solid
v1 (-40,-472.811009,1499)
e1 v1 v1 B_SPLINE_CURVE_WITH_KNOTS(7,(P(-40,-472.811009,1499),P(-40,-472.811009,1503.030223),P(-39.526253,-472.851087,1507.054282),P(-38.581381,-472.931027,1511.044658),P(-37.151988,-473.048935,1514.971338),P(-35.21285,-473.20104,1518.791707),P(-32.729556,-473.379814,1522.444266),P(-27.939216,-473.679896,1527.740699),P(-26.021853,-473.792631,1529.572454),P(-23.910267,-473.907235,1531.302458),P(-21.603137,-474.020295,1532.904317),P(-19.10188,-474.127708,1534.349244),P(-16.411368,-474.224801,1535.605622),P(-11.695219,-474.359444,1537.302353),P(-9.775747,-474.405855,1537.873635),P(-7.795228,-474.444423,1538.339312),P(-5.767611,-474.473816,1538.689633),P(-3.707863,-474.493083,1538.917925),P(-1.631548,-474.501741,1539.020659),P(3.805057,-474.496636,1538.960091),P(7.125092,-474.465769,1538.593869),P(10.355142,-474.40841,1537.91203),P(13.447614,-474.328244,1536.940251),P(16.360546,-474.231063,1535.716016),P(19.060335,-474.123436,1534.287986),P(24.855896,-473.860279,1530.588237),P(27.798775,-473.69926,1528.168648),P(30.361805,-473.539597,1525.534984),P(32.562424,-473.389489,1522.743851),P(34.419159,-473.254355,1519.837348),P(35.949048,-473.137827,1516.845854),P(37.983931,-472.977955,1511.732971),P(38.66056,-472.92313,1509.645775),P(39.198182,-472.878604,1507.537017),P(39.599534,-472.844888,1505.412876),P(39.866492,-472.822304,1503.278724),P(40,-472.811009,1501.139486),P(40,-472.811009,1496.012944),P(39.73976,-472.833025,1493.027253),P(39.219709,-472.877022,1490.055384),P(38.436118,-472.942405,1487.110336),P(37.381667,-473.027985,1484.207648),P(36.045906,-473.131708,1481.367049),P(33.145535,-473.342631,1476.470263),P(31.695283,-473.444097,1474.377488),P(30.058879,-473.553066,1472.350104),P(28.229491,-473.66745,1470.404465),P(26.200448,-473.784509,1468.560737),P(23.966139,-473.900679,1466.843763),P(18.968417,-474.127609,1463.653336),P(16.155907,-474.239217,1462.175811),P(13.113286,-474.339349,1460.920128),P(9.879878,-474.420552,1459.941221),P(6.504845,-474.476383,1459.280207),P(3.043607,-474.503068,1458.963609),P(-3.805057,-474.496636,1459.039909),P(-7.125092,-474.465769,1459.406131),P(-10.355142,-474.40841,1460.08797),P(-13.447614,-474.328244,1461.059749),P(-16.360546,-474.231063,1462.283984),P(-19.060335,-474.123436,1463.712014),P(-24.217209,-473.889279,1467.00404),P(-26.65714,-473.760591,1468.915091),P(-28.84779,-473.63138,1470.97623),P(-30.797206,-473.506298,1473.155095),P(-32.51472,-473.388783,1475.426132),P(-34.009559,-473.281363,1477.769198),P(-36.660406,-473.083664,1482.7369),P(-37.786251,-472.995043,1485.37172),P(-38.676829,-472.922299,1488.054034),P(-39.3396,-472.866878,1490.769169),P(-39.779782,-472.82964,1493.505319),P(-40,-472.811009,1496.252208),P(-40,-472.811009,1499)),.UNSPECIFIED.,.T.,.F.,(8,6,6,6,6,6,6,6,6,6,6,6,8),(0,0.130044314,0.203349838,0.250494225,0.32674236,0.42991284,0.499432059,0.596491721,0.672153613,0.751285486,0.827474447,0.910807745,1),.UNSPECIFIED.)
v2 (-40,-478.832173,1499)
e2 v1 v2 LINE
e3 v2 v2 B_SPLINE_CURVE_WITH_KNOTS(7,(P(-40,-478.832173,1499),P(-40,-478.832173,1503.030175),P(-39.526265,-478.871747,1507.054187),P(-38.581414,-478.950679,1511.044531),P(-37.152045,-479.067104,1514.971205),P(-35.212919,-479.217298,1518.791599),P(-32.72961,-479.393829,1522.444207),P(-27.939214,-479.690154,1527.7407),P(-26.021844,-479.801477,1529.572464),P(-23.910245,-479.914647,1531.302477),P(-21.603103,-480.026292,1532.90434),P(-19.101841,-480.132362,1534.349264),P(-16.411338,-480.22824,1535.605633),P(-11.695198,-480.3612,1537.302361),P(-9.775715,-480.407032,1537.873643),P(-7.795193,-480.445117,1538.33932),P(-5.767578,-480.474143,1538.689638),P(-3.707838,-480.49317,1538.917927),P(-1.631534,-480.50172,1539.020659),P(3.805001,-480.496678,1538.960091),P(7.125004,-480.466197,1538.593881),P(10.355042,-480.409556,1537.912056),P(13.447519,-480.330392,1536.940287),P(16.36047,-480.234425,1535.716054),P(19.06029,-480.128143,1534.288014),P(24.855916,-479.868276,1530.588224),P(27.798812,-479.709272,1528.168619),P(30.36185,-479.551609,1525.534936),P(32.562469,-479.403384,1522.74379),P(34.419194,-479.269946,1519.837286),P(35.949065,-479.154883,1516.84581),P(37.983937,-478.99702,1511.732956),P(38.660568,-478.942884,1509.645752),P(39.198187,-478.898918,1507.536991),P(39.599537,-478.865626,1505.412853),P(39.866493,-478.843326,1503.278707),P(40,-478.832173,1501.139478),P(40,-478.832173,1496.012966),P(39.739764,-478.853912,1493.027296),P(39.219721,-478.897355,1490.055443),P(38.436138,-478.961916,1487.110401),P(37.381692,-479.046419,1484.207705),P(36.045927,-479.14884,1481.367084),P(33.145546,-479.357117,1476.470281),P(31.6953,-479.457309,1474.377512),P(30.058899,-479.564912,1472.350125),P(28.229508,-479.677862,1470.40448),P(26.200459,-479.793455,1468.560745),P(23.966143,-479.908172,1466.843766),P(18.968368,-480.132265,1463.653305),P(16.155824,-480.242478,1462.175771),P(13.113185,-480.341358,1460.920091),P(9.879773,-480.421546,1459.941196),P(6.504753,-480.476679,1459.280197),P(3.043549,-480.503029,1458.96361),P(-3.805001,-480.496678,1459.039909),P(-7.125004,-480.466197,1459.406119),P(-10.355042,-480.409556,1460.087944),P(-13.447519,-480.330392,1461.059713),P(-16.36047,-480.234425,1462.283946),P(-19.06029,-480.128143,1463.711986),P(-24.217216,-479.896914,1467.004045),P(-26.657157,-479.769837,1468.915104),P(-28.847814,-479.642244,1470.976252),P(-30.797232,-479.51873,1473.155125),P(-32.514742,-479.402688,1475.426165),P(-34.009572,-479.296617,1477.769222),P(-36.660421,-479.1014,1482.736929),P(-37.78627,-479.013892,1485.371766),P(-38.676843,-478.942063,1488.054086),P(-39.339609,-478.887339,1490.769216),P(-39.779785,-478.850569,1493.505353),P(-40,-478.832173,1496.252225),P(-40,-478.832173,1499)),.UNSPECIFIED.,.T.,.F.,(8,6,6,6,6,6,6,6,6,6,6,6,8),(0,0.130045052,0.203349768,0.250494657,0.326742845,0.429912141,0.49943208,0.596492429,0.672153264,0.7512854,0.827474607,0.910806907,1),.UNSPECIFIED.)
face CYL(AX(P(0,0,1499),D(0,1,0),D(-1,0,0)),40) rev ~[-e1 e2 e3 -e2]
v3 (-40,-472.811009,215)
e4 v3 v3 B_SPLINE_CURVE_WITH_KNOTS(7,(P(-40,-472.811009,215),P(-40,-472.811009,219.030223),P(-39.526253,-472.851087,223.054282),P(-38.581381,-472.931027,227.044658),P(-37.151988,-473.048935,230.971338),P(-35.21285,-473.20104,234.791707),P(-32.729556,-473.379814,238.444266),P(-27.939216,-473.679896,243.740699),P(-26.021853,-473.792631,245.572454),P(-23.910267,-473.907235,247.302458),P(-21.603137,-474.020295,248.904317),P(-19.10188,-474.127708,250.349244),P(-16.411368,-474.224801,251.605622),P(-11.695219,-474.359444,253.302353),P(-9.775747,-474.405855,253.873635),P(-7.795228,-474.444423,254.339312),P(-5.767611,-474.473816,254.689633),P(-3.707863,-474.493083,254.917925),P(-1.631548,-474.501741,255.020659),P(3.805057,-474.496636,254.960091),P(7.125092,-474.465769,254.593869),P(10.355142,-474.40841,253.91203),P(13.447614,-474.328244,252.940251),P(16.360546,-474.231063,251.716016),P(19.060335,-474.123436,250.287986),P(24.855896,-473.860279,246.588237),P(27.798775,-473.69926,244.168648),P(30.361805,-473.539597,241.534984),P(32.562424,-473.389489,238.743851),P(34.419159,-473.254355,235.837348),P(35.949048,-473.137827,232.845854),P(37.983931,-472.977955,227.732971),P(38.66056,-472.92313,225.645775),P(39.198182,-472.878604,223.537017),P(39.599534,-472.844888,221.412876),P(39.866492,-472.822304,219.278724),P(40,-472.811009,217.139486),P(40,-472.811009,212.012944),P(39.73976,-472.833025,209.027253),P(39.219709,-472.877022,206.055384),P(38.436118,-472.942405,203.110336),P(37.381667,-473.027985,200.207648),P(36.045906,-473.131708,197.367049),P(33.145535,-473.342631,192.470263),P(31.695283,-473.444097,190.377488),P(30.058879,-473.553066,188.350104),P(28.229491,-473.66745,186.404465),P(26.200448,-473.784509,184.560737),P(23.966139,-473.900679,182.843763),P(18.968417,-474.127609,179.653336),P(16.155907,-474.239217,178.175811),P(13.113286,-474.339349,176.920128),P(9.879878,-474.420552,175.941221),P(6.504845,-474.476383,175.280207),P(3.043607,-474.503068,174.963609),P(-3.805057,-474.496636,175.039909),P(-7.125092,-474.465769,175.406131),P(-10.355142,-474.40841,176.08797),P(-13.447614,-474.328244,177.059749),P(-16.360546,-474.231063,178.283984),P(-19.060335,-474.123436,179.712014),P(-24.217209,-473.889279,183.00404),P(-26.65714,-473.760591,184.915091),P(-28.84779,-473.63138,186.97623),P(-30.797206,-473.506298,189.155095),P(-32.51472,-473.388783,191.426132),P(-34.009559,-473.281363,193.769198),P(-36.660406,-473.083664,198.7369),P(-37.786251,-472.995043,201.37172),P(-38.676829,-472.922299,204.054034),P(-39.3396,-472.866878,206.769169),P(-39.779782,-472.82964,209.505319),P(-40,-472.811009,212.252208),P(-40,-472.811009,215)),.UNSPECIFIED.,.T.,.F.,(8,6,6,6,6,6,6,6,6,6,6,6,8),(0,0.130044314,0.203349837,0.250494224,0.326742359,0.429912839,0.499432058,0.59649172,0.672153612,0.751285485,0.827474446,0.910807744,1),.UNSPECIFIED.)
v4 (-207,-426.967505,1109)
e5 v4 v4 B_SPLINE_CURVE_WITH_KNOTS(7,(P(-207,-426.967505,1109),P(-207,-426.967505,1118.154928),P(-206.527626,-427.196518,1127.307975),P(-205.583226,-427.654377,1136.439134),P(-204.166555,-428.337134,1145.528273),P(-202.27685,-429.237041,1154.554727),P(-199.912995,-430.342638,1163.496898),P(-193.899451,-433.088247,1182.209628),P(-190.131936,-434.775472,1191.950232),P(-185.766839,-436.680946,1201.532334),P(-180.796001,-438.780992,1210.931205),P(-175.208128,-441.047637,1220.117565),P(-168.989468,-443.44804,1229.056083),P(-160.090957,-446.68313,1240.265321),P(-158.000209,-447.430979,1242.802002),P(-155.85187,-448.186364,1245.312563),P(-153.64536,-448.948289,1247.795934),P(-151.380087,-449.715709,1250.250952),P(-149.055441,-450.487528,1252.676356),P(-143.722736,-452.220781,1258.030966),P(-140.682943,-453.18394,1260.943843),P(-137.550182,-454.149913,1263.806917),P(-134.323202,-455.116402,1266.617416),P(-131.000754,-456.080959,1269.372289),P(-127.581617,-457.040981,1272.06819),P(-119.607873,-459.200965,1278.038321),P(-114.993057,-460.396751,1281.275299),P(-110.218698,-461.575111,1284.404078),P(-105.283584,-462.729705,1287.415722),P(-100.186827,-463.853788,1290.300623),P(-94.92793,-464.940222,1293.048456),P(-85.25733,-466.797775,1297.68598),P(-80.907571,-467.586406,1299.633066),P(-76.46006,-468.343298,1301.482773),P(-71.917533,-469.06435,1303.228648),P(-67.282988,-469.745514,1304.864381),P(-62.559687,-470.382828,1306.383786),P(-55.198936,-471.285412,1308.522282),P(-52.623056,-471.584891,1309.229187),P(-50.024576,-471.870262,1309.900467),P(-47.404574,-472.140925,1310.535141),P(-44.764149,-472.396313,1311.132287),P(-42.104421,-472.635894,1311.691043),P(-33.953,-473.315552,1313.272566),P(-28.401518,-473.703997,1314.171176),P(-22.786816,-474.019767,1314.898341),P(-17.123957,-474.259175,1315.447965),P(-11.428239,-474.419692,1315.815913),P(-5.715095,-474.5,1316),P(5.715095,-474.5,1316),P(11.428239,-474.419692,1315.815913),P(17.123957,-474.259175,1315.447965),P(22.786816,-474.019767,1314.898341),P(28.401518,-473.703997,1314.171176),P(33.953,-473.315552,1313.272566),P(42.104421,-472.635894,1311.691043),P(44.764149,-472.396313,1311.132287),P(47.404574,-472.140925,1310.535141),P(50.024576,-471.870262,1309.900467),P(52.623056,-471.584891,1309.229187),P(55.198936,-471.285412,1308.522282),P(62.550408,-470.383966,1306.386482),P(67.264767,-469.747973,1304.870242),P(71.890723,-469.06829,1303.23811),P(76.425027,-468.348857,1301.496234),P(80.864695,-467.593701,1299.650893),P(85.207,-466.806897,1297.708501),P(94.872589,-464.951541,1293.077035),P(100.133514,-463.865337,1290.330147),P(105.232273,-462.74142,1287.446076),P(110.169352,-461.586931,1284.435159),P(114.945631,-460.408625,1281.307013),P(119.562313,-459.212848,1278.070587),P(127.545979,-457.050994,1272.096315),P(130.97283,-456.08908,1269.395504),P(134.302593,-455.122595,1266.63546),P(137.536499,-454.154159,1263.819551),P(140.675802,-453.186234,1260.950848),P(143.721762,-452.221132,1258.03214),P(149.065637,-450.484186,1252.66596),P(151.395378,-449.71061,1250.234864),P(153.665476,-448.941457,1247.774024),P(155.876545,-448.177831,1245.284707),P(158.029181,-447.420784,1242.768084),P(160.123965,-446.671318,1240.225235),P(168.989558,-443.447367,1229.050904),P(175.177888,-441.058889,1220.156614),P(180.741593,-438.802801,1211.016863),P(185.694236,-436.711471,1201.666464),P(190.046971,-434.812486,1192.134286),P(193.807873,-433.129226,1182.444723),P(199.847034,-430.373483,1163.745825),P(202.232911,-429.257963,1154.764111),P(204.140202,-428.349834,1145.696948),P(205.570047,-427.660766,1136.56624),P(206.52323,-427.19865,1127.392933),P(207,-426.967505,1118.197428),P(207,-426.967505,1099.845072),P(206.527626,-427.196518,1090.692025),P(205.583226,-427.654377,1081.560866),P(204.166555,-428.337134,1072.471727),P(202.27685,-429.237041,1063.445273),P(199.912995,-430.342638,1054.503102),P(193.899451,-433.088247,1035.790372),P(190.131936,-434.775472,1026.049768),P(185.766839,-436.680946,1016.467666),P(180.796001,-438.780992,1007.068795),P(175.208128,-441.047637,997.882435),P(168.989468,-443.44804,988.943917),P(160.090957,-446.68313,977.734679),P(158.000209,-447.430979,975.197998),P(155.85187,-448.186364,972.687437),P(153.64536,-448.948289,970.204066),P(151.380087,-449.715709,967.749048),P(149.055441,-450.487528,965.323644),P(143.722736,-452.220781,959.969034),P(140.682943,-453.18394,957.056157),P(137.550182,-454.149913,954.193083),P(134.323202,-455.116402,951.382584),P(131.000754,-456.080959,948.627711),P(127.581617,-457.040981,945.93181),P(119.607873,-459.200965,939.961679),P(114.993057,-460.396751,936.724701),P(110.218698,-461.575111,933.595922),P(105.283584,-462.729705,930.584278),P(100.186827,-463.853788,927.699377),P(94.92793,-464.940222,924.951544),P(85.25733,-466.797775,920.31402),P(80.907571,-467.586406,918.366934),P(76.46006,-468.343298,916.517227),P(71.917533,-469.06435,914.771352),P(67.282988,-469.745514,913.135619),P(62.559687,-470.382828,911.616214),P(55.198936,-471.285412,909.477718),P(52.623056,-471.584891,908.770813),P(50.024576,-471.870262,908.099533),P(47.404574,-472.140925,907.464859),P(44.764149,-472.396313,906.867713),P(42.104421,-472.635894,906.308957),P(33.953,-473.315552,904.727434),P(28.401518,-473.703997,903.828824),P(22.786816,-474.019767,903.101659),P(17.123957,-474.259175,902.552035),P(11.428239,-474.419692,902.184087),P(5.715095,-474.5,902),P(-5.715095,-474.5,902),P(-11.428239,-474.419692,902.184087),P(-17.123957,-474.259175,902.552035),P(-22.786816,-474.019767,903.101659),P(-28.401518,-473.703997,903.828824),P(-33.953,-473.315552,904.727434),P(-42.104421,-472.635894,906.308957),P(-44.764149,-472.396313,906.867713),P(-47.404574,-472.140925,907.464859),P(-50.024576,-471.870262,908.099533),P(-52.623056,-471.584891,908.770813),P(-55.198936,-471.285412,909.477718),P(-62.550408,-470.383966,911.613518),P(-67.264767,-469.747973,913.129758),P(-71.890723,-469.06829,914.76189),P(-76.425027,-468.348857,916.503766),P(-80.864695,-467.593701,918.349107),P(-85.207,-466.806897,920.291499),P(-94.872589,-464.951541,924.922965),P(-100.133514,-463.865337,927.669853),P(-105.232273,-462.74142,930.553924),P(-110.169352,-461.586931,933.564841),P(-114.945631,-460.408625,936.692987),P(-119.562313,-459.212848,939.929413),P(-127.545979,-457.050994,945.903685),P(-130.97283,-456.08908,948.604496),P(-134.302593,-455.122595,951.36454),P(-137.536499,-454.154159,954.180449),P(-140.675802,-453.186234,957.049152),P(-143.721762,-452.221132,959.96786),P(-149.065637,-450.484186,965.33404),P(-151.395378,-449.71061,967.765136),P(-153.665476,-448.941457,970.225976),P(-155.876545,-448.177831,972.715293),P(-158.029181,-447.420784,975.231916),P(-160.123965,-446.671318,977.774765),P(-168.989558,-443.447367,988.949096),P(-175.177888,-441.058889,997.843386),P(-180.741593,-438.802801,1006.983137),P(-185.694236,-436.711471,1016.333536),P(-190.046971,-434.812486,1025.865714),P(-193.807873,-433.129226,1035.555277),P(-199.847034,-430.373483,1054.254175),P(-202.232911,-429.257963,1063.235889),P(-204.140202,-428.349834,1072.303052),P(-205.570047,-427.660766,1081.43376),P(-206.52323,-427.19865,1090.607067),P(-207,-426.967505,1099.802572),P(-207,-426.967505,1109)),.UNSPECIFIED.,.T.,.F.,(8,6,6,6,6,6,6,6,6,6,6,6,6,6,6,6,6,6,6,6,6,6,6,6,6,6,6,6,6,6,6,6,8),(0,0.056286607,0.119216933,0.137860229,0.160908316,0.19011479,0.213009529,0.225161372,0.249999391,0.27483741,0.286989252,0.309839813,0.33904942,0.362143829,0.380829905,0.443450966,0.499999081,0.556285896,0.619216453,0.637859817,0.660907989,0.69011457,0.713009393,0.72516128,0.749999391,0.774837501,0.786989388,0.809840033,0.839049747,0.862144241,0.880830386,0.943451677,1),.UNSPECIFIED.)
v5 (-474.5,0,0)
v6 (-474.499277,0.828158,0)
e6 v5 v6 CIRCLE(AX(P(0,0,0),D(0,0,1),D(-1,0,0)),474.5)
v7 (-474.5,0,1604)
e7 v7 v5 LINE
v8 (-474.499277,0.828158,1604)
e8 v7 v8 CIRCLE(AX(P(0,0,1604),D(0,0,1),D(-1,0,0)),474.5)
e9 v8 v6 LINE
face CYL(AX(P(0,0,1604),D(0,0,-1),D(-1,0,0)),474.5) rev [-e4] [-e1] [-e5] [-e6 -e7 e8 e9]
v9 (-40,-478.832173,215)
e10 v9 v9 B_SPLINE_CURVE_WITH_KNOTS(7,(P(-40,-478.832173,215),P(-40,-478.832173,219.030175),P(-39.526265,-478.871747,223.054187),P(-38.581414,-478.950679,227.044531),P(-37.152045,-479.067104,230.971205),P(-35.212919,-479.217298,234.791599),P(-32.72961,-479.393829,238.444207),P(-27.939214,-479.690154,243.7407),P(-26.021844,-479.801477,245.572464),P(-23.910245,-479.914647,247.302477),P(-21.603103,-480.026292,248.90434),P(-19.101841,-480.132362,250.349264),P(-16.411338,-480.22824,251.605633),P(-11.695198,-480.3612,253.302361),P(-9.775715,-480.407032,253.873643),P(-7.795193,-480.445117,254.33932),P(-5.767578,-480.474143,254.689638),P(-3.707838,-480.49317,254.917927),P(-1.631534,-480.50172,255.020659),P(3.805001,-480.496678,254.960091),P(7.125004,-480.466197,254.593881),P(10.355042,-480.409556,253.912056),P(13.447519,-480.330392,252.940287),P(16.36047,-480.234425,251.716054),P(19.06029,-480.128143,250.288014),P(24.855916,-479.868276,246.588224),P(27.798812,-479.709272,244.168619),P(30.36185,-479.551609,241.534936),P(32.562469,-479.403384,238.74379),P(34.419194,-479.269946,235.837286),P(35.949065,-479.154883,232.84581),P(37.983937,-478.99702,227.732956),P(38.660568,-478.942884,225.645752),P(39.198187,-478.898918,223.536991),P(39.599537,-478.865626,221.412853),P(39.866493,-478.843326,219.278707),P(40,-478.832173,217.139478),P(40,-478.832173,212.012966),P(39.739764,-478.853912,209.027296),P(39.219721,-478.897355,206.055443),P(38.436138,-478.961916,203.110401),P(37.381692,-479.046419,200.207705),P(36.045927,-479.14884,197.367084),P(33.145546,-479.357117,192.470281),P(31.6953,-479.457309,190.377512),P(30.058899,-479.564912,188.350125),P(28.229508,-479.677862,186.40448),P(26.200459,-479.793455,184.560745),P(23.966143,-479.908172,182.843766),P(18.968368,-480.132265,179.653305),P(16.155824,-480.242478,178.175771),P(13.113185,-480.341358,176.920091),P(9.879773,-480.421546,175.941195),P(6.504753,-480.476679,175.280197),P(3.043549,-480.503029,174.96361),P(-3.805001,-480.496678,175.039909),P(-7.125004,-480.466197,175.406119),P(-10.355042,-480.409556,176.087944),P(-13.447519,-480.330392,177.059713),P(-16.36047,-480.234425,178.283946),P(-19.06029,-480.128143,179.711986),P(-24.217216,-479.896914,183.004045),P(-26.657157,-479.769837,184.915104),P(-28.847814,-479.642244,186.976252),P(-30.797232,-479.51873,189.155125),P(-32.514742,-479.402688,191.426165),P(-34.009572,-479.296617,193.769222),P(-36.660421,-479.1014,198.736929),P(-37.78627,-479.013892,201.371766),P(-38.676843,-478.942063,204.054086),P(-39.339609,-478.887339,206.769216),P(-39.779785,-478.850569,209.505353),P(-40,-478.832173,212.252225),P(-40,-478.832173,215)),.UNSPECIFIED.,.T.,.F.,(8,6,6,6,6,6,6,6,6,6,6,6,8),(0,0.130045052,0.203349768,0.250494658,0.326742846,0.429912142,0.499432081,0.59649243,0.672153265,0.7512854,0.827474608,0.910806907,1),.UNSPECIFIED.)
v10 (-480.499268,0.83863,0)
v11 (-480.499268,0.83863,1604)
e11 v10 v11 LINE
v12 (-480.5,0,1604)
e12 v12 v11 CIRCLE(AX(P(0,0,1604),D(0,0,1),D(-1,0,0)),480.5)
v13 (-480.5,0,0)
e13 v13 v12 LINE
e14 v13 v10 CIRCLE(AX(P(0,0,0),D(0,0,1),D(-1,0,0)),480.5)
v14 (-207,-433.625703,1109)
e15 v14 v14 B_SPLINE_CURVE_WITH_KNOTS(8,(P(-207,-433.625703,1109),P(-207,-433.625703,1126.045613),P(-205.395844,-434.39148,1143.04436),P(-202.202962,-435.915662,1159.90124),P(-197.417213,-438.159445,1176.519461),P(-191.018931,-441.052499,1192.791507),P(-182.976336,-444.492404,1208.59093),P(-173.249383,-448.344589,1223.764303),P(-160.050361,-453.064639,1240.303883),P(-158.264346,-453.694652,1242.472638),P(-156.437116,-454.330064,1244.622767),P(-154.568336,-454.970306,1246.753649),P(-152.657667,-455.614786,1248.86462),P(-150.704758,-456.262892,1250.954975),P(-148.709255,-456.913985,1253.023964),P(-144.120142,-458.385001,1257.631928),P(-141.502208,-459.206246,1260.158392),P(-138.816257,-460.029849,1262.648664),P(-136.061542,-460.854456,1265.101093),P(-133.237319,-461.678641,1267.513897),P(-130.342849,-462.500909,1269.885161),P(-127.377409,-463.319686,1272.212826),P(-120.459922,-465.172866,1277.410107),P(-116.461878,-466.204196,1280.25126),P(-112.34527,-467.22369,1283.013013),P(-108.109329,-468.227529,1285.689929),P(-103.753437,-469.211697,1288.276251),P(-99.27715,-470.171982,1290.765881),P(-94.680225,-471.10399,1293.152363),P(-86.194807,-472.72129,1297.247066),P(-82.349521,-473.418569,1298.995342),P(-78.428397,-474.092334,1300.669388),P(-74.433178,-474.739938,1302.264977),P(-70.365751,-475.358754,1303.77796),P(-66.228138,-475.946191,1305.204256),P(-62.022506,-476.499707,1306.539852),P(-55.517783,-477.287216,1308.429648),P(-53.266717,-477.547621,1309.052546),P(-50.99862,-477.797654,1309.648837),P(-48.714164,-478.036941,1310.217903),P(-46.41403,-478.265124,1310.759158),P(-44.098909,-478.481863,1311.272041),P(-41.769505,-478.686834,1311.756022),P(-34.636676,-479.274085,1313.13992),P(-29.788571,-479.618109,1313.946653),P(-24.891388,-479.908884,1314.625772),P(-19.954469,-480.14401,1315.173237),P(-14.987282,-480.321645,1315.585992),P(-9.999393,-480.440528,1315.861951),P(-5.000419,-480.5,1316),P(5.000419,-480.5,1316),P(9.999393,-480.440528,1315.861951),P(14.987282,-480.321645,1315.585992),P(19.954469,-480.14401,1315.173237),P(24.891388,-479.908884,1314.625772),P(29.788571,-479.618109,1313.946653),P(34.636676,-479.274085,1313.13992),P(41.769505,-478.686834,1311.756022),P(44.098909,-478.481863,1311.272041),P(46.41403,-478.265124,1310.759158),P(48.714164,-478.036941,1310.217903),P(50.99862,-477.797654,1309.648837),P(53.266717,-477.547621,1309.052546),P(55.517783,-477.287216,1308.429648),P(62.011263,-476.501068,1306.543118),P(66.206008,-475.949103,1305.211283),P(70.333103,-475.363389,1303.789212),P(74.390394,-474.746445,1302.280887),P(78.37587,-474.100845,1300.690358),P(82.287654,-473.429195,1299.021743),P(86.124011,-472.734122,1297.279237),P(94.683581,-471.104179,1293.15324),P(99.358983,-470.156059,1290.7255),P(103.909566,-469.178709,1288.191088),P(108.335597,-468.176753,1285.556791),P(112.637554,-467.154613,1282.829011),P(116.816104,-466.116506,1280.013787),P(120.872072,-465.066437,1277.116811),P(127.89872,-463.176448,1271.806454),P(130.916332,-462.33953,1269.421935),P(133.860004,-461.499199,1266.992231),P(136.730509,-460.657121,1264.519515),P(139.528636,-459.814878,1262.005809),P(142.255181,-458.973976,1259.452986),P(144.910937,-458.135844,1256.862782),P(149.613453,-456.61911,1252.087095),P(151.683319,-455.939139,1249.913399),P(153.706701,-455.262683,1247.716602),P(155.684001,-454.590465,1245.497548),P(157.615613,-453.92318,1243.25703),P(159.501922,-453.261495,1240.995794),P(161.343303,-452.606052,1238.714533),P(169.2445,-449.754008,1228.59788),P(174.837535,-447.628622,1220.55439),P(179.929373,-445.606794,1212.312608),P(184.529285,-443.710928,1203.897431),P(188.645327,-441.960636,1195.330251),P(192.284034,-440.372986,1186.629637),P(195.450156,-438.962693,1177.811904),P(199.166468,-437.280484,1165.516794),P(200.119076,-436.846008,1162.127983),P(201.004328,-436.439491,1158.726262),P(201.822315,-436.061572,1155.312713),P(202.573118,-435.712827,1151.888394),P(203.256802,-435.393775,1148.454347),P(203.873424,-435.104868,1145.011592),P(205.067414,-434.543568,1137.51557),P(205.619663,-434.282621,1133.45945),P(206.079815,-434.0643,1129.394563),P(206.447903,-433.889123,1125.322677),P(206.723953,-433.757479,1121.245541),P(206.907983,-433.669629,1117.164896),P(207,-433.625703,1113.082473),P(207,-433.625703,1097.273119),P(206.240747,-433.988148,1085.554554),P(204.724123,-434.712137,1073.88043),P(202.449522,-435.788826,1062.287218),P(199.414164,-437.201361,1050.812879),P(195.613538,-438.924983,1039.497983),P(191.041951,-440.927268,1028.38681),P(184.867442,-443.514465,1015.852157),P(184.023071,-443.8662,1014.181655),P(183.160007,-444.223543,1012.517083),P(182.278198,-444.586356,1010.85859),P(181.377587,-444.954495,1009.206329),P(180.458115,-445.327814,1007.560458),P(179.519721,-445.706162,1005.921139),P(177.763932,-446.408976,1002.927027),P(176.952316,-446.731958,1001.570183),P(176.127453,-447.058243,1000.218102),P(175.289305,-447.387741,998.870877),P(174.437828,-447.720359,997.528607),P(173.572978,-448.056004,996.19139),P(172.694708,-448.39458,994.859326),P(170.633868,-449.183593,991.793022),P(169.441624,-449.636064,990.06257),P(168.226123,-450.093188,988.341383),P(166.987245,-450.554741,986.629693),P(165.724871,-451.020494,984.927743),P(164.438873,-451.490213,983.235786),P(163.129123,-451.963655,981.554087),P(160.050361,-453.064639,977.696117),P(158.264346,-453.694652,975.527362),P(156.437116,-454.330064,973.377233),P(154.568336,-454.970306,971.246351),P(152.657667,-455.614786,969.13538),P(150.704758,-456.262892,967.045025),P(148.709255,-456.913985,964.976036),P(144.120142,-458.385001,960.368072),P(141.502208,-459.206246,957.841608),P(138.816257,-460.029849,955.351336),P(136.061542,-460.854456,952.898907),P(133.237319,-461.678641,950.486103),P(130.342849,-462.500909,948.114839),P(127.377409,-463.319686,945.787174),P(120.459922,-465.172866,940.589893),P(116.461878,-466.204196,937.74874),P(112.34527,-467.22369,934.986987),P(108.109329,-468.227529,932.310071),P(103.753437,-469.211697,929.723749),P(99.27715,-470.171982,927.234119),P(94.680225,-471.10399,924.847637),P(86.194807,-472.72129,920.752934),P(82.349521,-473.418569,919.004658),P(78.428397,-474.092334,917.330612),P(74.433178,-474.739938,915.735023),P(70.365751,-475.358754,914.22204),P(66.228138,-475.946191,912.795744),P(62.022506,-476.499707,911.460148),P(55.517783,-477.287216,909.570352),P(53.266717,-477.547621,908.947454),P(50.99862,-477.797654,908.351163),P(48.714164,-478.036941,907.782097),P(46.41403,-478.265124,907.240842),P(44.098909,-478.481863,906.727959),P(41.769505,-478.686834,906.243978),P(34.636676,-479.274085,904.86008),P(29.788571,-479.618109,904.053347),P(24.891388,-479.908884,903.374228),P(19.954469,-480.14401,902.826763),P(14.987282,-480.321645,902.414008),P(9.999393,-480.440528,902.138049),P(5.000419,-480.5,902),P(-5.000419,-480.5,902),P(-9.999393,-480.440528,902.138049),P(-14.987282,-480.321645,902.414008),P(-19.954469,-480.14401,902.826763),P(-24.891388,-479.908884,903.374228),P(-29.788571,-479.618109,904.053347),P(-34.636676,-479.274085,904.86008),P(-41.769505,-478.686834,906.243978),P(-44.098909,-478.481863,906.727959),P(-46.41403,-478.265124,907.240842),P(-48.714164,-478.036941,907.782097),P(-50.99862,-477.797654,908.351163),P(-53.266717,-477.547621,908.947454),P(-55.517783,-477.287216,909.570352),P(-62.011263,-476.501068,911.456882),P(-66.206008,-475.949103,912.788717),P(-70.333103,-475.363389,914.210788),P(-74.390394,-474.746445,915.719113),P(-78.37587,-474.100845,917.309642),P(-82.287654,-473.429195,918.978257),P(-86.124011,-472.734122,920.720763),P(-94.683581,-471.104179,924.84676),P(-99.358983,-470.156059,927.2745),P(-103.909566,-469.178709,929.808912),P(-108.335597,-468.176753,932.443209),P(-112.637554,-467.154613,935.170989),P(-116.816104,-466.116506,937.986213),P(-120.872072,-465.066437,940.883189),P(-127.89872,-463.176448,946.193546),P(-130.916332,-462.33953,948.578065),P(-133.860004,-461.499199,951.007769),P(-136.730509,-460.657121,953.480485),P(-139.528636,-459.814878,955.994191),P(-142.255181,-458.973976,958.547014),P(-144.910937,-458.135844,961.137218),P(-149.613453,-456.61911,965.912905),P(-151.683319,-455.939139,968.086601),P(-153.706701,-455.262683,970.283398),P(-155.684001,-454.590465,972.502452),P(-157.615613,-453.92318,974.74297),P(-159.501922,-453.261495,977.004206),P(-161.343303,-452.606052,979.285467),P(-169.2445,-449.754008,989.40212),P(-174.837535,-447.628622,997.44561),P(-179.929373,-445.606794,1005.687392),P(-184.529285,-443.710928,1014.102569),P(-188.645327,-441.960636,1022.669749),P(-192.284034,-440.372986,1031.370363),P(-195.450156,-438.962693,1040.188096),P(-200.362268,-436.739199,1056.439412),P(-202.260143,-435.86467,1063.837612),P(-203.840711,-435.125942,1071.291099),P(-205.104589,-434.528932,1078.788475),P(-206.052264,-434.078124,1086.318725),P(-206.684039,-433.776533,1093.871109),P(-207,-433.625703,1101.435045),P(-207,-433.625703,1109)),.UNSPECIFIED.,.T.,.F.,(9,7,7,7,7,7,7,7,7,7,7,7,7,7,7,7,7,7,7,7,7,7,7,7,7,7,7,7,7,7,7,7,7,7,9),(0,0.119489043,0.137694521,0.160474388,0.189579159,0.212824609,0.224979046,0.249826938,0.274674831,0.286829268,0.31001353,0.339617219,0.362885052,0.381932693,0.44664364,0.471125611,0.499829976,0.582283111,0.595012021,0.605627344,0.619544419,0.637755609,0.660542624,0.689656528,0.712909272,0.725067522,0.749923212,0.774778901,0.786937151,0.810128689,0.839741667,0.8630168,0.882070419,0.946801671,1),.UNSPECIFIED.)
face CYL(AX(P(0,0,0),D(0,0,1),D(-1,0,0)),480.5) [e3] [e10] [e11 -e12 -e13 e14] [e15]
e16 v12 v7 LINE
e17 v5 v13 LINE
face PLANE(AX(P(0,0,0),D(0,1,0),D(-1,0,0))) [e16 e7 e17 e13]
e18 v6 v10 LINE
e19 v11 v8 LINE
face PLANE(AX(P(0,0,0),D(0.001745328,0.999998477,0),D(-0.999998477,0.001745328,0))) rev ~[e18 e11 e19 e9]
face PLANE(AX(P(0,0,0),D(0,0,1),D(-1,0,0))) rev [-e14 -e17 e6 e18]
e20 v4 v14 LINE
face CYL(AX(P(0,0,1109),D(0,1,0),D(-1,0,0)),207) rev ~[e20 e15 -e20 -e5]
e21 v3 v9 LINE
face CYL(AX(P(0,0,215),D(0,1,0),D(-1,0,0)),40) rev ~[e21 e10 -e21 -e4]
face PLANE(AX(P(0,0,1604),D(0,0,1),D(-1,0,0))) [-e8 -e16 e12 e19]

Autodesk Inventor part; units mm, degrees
ref_plane "YZ Plane" through (0, 0, 0) normal (1, 0, 0) x (0, 1, 0)
ref_plane "XZ Plane" through (0, 0, 0) normal (0, 1, 0) x (-1, 0, 0)
ref_plane "XY Plane" through (0, 0, 0) normal (0, 0, 1) x (1, 0, 0)
sketch "Sketch1" plane through (0, 0, 0) normal (0, 1, 0) x (-1, 0, 0)
  line L0 (480.5, 1604) -> (474.5, 1604)
  line L1 (474.5, 1604) -> (474.5, 0)
  line L2 (474.5, 0) -> (480.5, 0)
  line L3 (480.5, 0) -> (480.5, 1604)
  line L4 (0, 0) -> (0, 1673.0415)
  point P0 (477.5, 0)
  dimension "d0" = 6
  dimension "d1" = 1604
  dimension "d2" = 949
revolve "Revolution1" add sketch "Sketch1" angle 359.9 about axis through (0, 0, 0) along (0, 0, 1)
sketch "Sketch2" plane through (0, 0, 0) normal (0, 1, 0) x (-1, 0, 0)
  circle A0 centre (0, 1109) radius 207
  circle A1 centre (0, 215) radius 40
  circle A2 centre (0, 1499) radius 40
  line L0 (474.5, 1604) -> (-474.5, 1604) projected
  point P0 (0, 0)
  point P1 (474.4993, 1604)
  dimension "d4" = 414
  dimension "d5" = 80
  dimension "d6" = 80
  dimension "d7" = 215
  dimension "d8" = 105
  dimension "d9" = 495
extrude "Extrusion1" cut sketch "Sketch2" against normal through all
equation "\"d1\" = Высота_сред_части"
equation "\"d2\" = Внутр_Диам"
equation "\"d4\" = Внутр_диам_ревиз_окна"
equation "\"d5\" = Внешний_диам_трубы_подкл"
equation "\"d6\" = Внешний_диам_трубы_подкл"
equation "\"BendRadius\" = Thickness"
equation "\"BendReliefWidth\" = Thickness"
equation "\"BendReliefDepth\" = 0.5 * Thickness"
equation "\"CornerReliefSize\" = 4 * Thickness"
equation "\"MinimumRemnant\" = 2 * Thickness"
equation "\"TransitionRadius\" = BendRadius"
equation "\"JacobiRadiusSize\" = BendRadius"
equation "\"GapSize\" = Thickness"
equation "\"Высота_сред_части\" = 1604"
equation "\"Внутр_Диам\" = 949"
equation "\"Внутр_диам_ревиз_окна\" = 414"
equation "\"Внешний_диам_трубы_подкл\" = 80"
equation "\"Thickness\" = 6"
properties part number "Стенка фильтра D1000"
